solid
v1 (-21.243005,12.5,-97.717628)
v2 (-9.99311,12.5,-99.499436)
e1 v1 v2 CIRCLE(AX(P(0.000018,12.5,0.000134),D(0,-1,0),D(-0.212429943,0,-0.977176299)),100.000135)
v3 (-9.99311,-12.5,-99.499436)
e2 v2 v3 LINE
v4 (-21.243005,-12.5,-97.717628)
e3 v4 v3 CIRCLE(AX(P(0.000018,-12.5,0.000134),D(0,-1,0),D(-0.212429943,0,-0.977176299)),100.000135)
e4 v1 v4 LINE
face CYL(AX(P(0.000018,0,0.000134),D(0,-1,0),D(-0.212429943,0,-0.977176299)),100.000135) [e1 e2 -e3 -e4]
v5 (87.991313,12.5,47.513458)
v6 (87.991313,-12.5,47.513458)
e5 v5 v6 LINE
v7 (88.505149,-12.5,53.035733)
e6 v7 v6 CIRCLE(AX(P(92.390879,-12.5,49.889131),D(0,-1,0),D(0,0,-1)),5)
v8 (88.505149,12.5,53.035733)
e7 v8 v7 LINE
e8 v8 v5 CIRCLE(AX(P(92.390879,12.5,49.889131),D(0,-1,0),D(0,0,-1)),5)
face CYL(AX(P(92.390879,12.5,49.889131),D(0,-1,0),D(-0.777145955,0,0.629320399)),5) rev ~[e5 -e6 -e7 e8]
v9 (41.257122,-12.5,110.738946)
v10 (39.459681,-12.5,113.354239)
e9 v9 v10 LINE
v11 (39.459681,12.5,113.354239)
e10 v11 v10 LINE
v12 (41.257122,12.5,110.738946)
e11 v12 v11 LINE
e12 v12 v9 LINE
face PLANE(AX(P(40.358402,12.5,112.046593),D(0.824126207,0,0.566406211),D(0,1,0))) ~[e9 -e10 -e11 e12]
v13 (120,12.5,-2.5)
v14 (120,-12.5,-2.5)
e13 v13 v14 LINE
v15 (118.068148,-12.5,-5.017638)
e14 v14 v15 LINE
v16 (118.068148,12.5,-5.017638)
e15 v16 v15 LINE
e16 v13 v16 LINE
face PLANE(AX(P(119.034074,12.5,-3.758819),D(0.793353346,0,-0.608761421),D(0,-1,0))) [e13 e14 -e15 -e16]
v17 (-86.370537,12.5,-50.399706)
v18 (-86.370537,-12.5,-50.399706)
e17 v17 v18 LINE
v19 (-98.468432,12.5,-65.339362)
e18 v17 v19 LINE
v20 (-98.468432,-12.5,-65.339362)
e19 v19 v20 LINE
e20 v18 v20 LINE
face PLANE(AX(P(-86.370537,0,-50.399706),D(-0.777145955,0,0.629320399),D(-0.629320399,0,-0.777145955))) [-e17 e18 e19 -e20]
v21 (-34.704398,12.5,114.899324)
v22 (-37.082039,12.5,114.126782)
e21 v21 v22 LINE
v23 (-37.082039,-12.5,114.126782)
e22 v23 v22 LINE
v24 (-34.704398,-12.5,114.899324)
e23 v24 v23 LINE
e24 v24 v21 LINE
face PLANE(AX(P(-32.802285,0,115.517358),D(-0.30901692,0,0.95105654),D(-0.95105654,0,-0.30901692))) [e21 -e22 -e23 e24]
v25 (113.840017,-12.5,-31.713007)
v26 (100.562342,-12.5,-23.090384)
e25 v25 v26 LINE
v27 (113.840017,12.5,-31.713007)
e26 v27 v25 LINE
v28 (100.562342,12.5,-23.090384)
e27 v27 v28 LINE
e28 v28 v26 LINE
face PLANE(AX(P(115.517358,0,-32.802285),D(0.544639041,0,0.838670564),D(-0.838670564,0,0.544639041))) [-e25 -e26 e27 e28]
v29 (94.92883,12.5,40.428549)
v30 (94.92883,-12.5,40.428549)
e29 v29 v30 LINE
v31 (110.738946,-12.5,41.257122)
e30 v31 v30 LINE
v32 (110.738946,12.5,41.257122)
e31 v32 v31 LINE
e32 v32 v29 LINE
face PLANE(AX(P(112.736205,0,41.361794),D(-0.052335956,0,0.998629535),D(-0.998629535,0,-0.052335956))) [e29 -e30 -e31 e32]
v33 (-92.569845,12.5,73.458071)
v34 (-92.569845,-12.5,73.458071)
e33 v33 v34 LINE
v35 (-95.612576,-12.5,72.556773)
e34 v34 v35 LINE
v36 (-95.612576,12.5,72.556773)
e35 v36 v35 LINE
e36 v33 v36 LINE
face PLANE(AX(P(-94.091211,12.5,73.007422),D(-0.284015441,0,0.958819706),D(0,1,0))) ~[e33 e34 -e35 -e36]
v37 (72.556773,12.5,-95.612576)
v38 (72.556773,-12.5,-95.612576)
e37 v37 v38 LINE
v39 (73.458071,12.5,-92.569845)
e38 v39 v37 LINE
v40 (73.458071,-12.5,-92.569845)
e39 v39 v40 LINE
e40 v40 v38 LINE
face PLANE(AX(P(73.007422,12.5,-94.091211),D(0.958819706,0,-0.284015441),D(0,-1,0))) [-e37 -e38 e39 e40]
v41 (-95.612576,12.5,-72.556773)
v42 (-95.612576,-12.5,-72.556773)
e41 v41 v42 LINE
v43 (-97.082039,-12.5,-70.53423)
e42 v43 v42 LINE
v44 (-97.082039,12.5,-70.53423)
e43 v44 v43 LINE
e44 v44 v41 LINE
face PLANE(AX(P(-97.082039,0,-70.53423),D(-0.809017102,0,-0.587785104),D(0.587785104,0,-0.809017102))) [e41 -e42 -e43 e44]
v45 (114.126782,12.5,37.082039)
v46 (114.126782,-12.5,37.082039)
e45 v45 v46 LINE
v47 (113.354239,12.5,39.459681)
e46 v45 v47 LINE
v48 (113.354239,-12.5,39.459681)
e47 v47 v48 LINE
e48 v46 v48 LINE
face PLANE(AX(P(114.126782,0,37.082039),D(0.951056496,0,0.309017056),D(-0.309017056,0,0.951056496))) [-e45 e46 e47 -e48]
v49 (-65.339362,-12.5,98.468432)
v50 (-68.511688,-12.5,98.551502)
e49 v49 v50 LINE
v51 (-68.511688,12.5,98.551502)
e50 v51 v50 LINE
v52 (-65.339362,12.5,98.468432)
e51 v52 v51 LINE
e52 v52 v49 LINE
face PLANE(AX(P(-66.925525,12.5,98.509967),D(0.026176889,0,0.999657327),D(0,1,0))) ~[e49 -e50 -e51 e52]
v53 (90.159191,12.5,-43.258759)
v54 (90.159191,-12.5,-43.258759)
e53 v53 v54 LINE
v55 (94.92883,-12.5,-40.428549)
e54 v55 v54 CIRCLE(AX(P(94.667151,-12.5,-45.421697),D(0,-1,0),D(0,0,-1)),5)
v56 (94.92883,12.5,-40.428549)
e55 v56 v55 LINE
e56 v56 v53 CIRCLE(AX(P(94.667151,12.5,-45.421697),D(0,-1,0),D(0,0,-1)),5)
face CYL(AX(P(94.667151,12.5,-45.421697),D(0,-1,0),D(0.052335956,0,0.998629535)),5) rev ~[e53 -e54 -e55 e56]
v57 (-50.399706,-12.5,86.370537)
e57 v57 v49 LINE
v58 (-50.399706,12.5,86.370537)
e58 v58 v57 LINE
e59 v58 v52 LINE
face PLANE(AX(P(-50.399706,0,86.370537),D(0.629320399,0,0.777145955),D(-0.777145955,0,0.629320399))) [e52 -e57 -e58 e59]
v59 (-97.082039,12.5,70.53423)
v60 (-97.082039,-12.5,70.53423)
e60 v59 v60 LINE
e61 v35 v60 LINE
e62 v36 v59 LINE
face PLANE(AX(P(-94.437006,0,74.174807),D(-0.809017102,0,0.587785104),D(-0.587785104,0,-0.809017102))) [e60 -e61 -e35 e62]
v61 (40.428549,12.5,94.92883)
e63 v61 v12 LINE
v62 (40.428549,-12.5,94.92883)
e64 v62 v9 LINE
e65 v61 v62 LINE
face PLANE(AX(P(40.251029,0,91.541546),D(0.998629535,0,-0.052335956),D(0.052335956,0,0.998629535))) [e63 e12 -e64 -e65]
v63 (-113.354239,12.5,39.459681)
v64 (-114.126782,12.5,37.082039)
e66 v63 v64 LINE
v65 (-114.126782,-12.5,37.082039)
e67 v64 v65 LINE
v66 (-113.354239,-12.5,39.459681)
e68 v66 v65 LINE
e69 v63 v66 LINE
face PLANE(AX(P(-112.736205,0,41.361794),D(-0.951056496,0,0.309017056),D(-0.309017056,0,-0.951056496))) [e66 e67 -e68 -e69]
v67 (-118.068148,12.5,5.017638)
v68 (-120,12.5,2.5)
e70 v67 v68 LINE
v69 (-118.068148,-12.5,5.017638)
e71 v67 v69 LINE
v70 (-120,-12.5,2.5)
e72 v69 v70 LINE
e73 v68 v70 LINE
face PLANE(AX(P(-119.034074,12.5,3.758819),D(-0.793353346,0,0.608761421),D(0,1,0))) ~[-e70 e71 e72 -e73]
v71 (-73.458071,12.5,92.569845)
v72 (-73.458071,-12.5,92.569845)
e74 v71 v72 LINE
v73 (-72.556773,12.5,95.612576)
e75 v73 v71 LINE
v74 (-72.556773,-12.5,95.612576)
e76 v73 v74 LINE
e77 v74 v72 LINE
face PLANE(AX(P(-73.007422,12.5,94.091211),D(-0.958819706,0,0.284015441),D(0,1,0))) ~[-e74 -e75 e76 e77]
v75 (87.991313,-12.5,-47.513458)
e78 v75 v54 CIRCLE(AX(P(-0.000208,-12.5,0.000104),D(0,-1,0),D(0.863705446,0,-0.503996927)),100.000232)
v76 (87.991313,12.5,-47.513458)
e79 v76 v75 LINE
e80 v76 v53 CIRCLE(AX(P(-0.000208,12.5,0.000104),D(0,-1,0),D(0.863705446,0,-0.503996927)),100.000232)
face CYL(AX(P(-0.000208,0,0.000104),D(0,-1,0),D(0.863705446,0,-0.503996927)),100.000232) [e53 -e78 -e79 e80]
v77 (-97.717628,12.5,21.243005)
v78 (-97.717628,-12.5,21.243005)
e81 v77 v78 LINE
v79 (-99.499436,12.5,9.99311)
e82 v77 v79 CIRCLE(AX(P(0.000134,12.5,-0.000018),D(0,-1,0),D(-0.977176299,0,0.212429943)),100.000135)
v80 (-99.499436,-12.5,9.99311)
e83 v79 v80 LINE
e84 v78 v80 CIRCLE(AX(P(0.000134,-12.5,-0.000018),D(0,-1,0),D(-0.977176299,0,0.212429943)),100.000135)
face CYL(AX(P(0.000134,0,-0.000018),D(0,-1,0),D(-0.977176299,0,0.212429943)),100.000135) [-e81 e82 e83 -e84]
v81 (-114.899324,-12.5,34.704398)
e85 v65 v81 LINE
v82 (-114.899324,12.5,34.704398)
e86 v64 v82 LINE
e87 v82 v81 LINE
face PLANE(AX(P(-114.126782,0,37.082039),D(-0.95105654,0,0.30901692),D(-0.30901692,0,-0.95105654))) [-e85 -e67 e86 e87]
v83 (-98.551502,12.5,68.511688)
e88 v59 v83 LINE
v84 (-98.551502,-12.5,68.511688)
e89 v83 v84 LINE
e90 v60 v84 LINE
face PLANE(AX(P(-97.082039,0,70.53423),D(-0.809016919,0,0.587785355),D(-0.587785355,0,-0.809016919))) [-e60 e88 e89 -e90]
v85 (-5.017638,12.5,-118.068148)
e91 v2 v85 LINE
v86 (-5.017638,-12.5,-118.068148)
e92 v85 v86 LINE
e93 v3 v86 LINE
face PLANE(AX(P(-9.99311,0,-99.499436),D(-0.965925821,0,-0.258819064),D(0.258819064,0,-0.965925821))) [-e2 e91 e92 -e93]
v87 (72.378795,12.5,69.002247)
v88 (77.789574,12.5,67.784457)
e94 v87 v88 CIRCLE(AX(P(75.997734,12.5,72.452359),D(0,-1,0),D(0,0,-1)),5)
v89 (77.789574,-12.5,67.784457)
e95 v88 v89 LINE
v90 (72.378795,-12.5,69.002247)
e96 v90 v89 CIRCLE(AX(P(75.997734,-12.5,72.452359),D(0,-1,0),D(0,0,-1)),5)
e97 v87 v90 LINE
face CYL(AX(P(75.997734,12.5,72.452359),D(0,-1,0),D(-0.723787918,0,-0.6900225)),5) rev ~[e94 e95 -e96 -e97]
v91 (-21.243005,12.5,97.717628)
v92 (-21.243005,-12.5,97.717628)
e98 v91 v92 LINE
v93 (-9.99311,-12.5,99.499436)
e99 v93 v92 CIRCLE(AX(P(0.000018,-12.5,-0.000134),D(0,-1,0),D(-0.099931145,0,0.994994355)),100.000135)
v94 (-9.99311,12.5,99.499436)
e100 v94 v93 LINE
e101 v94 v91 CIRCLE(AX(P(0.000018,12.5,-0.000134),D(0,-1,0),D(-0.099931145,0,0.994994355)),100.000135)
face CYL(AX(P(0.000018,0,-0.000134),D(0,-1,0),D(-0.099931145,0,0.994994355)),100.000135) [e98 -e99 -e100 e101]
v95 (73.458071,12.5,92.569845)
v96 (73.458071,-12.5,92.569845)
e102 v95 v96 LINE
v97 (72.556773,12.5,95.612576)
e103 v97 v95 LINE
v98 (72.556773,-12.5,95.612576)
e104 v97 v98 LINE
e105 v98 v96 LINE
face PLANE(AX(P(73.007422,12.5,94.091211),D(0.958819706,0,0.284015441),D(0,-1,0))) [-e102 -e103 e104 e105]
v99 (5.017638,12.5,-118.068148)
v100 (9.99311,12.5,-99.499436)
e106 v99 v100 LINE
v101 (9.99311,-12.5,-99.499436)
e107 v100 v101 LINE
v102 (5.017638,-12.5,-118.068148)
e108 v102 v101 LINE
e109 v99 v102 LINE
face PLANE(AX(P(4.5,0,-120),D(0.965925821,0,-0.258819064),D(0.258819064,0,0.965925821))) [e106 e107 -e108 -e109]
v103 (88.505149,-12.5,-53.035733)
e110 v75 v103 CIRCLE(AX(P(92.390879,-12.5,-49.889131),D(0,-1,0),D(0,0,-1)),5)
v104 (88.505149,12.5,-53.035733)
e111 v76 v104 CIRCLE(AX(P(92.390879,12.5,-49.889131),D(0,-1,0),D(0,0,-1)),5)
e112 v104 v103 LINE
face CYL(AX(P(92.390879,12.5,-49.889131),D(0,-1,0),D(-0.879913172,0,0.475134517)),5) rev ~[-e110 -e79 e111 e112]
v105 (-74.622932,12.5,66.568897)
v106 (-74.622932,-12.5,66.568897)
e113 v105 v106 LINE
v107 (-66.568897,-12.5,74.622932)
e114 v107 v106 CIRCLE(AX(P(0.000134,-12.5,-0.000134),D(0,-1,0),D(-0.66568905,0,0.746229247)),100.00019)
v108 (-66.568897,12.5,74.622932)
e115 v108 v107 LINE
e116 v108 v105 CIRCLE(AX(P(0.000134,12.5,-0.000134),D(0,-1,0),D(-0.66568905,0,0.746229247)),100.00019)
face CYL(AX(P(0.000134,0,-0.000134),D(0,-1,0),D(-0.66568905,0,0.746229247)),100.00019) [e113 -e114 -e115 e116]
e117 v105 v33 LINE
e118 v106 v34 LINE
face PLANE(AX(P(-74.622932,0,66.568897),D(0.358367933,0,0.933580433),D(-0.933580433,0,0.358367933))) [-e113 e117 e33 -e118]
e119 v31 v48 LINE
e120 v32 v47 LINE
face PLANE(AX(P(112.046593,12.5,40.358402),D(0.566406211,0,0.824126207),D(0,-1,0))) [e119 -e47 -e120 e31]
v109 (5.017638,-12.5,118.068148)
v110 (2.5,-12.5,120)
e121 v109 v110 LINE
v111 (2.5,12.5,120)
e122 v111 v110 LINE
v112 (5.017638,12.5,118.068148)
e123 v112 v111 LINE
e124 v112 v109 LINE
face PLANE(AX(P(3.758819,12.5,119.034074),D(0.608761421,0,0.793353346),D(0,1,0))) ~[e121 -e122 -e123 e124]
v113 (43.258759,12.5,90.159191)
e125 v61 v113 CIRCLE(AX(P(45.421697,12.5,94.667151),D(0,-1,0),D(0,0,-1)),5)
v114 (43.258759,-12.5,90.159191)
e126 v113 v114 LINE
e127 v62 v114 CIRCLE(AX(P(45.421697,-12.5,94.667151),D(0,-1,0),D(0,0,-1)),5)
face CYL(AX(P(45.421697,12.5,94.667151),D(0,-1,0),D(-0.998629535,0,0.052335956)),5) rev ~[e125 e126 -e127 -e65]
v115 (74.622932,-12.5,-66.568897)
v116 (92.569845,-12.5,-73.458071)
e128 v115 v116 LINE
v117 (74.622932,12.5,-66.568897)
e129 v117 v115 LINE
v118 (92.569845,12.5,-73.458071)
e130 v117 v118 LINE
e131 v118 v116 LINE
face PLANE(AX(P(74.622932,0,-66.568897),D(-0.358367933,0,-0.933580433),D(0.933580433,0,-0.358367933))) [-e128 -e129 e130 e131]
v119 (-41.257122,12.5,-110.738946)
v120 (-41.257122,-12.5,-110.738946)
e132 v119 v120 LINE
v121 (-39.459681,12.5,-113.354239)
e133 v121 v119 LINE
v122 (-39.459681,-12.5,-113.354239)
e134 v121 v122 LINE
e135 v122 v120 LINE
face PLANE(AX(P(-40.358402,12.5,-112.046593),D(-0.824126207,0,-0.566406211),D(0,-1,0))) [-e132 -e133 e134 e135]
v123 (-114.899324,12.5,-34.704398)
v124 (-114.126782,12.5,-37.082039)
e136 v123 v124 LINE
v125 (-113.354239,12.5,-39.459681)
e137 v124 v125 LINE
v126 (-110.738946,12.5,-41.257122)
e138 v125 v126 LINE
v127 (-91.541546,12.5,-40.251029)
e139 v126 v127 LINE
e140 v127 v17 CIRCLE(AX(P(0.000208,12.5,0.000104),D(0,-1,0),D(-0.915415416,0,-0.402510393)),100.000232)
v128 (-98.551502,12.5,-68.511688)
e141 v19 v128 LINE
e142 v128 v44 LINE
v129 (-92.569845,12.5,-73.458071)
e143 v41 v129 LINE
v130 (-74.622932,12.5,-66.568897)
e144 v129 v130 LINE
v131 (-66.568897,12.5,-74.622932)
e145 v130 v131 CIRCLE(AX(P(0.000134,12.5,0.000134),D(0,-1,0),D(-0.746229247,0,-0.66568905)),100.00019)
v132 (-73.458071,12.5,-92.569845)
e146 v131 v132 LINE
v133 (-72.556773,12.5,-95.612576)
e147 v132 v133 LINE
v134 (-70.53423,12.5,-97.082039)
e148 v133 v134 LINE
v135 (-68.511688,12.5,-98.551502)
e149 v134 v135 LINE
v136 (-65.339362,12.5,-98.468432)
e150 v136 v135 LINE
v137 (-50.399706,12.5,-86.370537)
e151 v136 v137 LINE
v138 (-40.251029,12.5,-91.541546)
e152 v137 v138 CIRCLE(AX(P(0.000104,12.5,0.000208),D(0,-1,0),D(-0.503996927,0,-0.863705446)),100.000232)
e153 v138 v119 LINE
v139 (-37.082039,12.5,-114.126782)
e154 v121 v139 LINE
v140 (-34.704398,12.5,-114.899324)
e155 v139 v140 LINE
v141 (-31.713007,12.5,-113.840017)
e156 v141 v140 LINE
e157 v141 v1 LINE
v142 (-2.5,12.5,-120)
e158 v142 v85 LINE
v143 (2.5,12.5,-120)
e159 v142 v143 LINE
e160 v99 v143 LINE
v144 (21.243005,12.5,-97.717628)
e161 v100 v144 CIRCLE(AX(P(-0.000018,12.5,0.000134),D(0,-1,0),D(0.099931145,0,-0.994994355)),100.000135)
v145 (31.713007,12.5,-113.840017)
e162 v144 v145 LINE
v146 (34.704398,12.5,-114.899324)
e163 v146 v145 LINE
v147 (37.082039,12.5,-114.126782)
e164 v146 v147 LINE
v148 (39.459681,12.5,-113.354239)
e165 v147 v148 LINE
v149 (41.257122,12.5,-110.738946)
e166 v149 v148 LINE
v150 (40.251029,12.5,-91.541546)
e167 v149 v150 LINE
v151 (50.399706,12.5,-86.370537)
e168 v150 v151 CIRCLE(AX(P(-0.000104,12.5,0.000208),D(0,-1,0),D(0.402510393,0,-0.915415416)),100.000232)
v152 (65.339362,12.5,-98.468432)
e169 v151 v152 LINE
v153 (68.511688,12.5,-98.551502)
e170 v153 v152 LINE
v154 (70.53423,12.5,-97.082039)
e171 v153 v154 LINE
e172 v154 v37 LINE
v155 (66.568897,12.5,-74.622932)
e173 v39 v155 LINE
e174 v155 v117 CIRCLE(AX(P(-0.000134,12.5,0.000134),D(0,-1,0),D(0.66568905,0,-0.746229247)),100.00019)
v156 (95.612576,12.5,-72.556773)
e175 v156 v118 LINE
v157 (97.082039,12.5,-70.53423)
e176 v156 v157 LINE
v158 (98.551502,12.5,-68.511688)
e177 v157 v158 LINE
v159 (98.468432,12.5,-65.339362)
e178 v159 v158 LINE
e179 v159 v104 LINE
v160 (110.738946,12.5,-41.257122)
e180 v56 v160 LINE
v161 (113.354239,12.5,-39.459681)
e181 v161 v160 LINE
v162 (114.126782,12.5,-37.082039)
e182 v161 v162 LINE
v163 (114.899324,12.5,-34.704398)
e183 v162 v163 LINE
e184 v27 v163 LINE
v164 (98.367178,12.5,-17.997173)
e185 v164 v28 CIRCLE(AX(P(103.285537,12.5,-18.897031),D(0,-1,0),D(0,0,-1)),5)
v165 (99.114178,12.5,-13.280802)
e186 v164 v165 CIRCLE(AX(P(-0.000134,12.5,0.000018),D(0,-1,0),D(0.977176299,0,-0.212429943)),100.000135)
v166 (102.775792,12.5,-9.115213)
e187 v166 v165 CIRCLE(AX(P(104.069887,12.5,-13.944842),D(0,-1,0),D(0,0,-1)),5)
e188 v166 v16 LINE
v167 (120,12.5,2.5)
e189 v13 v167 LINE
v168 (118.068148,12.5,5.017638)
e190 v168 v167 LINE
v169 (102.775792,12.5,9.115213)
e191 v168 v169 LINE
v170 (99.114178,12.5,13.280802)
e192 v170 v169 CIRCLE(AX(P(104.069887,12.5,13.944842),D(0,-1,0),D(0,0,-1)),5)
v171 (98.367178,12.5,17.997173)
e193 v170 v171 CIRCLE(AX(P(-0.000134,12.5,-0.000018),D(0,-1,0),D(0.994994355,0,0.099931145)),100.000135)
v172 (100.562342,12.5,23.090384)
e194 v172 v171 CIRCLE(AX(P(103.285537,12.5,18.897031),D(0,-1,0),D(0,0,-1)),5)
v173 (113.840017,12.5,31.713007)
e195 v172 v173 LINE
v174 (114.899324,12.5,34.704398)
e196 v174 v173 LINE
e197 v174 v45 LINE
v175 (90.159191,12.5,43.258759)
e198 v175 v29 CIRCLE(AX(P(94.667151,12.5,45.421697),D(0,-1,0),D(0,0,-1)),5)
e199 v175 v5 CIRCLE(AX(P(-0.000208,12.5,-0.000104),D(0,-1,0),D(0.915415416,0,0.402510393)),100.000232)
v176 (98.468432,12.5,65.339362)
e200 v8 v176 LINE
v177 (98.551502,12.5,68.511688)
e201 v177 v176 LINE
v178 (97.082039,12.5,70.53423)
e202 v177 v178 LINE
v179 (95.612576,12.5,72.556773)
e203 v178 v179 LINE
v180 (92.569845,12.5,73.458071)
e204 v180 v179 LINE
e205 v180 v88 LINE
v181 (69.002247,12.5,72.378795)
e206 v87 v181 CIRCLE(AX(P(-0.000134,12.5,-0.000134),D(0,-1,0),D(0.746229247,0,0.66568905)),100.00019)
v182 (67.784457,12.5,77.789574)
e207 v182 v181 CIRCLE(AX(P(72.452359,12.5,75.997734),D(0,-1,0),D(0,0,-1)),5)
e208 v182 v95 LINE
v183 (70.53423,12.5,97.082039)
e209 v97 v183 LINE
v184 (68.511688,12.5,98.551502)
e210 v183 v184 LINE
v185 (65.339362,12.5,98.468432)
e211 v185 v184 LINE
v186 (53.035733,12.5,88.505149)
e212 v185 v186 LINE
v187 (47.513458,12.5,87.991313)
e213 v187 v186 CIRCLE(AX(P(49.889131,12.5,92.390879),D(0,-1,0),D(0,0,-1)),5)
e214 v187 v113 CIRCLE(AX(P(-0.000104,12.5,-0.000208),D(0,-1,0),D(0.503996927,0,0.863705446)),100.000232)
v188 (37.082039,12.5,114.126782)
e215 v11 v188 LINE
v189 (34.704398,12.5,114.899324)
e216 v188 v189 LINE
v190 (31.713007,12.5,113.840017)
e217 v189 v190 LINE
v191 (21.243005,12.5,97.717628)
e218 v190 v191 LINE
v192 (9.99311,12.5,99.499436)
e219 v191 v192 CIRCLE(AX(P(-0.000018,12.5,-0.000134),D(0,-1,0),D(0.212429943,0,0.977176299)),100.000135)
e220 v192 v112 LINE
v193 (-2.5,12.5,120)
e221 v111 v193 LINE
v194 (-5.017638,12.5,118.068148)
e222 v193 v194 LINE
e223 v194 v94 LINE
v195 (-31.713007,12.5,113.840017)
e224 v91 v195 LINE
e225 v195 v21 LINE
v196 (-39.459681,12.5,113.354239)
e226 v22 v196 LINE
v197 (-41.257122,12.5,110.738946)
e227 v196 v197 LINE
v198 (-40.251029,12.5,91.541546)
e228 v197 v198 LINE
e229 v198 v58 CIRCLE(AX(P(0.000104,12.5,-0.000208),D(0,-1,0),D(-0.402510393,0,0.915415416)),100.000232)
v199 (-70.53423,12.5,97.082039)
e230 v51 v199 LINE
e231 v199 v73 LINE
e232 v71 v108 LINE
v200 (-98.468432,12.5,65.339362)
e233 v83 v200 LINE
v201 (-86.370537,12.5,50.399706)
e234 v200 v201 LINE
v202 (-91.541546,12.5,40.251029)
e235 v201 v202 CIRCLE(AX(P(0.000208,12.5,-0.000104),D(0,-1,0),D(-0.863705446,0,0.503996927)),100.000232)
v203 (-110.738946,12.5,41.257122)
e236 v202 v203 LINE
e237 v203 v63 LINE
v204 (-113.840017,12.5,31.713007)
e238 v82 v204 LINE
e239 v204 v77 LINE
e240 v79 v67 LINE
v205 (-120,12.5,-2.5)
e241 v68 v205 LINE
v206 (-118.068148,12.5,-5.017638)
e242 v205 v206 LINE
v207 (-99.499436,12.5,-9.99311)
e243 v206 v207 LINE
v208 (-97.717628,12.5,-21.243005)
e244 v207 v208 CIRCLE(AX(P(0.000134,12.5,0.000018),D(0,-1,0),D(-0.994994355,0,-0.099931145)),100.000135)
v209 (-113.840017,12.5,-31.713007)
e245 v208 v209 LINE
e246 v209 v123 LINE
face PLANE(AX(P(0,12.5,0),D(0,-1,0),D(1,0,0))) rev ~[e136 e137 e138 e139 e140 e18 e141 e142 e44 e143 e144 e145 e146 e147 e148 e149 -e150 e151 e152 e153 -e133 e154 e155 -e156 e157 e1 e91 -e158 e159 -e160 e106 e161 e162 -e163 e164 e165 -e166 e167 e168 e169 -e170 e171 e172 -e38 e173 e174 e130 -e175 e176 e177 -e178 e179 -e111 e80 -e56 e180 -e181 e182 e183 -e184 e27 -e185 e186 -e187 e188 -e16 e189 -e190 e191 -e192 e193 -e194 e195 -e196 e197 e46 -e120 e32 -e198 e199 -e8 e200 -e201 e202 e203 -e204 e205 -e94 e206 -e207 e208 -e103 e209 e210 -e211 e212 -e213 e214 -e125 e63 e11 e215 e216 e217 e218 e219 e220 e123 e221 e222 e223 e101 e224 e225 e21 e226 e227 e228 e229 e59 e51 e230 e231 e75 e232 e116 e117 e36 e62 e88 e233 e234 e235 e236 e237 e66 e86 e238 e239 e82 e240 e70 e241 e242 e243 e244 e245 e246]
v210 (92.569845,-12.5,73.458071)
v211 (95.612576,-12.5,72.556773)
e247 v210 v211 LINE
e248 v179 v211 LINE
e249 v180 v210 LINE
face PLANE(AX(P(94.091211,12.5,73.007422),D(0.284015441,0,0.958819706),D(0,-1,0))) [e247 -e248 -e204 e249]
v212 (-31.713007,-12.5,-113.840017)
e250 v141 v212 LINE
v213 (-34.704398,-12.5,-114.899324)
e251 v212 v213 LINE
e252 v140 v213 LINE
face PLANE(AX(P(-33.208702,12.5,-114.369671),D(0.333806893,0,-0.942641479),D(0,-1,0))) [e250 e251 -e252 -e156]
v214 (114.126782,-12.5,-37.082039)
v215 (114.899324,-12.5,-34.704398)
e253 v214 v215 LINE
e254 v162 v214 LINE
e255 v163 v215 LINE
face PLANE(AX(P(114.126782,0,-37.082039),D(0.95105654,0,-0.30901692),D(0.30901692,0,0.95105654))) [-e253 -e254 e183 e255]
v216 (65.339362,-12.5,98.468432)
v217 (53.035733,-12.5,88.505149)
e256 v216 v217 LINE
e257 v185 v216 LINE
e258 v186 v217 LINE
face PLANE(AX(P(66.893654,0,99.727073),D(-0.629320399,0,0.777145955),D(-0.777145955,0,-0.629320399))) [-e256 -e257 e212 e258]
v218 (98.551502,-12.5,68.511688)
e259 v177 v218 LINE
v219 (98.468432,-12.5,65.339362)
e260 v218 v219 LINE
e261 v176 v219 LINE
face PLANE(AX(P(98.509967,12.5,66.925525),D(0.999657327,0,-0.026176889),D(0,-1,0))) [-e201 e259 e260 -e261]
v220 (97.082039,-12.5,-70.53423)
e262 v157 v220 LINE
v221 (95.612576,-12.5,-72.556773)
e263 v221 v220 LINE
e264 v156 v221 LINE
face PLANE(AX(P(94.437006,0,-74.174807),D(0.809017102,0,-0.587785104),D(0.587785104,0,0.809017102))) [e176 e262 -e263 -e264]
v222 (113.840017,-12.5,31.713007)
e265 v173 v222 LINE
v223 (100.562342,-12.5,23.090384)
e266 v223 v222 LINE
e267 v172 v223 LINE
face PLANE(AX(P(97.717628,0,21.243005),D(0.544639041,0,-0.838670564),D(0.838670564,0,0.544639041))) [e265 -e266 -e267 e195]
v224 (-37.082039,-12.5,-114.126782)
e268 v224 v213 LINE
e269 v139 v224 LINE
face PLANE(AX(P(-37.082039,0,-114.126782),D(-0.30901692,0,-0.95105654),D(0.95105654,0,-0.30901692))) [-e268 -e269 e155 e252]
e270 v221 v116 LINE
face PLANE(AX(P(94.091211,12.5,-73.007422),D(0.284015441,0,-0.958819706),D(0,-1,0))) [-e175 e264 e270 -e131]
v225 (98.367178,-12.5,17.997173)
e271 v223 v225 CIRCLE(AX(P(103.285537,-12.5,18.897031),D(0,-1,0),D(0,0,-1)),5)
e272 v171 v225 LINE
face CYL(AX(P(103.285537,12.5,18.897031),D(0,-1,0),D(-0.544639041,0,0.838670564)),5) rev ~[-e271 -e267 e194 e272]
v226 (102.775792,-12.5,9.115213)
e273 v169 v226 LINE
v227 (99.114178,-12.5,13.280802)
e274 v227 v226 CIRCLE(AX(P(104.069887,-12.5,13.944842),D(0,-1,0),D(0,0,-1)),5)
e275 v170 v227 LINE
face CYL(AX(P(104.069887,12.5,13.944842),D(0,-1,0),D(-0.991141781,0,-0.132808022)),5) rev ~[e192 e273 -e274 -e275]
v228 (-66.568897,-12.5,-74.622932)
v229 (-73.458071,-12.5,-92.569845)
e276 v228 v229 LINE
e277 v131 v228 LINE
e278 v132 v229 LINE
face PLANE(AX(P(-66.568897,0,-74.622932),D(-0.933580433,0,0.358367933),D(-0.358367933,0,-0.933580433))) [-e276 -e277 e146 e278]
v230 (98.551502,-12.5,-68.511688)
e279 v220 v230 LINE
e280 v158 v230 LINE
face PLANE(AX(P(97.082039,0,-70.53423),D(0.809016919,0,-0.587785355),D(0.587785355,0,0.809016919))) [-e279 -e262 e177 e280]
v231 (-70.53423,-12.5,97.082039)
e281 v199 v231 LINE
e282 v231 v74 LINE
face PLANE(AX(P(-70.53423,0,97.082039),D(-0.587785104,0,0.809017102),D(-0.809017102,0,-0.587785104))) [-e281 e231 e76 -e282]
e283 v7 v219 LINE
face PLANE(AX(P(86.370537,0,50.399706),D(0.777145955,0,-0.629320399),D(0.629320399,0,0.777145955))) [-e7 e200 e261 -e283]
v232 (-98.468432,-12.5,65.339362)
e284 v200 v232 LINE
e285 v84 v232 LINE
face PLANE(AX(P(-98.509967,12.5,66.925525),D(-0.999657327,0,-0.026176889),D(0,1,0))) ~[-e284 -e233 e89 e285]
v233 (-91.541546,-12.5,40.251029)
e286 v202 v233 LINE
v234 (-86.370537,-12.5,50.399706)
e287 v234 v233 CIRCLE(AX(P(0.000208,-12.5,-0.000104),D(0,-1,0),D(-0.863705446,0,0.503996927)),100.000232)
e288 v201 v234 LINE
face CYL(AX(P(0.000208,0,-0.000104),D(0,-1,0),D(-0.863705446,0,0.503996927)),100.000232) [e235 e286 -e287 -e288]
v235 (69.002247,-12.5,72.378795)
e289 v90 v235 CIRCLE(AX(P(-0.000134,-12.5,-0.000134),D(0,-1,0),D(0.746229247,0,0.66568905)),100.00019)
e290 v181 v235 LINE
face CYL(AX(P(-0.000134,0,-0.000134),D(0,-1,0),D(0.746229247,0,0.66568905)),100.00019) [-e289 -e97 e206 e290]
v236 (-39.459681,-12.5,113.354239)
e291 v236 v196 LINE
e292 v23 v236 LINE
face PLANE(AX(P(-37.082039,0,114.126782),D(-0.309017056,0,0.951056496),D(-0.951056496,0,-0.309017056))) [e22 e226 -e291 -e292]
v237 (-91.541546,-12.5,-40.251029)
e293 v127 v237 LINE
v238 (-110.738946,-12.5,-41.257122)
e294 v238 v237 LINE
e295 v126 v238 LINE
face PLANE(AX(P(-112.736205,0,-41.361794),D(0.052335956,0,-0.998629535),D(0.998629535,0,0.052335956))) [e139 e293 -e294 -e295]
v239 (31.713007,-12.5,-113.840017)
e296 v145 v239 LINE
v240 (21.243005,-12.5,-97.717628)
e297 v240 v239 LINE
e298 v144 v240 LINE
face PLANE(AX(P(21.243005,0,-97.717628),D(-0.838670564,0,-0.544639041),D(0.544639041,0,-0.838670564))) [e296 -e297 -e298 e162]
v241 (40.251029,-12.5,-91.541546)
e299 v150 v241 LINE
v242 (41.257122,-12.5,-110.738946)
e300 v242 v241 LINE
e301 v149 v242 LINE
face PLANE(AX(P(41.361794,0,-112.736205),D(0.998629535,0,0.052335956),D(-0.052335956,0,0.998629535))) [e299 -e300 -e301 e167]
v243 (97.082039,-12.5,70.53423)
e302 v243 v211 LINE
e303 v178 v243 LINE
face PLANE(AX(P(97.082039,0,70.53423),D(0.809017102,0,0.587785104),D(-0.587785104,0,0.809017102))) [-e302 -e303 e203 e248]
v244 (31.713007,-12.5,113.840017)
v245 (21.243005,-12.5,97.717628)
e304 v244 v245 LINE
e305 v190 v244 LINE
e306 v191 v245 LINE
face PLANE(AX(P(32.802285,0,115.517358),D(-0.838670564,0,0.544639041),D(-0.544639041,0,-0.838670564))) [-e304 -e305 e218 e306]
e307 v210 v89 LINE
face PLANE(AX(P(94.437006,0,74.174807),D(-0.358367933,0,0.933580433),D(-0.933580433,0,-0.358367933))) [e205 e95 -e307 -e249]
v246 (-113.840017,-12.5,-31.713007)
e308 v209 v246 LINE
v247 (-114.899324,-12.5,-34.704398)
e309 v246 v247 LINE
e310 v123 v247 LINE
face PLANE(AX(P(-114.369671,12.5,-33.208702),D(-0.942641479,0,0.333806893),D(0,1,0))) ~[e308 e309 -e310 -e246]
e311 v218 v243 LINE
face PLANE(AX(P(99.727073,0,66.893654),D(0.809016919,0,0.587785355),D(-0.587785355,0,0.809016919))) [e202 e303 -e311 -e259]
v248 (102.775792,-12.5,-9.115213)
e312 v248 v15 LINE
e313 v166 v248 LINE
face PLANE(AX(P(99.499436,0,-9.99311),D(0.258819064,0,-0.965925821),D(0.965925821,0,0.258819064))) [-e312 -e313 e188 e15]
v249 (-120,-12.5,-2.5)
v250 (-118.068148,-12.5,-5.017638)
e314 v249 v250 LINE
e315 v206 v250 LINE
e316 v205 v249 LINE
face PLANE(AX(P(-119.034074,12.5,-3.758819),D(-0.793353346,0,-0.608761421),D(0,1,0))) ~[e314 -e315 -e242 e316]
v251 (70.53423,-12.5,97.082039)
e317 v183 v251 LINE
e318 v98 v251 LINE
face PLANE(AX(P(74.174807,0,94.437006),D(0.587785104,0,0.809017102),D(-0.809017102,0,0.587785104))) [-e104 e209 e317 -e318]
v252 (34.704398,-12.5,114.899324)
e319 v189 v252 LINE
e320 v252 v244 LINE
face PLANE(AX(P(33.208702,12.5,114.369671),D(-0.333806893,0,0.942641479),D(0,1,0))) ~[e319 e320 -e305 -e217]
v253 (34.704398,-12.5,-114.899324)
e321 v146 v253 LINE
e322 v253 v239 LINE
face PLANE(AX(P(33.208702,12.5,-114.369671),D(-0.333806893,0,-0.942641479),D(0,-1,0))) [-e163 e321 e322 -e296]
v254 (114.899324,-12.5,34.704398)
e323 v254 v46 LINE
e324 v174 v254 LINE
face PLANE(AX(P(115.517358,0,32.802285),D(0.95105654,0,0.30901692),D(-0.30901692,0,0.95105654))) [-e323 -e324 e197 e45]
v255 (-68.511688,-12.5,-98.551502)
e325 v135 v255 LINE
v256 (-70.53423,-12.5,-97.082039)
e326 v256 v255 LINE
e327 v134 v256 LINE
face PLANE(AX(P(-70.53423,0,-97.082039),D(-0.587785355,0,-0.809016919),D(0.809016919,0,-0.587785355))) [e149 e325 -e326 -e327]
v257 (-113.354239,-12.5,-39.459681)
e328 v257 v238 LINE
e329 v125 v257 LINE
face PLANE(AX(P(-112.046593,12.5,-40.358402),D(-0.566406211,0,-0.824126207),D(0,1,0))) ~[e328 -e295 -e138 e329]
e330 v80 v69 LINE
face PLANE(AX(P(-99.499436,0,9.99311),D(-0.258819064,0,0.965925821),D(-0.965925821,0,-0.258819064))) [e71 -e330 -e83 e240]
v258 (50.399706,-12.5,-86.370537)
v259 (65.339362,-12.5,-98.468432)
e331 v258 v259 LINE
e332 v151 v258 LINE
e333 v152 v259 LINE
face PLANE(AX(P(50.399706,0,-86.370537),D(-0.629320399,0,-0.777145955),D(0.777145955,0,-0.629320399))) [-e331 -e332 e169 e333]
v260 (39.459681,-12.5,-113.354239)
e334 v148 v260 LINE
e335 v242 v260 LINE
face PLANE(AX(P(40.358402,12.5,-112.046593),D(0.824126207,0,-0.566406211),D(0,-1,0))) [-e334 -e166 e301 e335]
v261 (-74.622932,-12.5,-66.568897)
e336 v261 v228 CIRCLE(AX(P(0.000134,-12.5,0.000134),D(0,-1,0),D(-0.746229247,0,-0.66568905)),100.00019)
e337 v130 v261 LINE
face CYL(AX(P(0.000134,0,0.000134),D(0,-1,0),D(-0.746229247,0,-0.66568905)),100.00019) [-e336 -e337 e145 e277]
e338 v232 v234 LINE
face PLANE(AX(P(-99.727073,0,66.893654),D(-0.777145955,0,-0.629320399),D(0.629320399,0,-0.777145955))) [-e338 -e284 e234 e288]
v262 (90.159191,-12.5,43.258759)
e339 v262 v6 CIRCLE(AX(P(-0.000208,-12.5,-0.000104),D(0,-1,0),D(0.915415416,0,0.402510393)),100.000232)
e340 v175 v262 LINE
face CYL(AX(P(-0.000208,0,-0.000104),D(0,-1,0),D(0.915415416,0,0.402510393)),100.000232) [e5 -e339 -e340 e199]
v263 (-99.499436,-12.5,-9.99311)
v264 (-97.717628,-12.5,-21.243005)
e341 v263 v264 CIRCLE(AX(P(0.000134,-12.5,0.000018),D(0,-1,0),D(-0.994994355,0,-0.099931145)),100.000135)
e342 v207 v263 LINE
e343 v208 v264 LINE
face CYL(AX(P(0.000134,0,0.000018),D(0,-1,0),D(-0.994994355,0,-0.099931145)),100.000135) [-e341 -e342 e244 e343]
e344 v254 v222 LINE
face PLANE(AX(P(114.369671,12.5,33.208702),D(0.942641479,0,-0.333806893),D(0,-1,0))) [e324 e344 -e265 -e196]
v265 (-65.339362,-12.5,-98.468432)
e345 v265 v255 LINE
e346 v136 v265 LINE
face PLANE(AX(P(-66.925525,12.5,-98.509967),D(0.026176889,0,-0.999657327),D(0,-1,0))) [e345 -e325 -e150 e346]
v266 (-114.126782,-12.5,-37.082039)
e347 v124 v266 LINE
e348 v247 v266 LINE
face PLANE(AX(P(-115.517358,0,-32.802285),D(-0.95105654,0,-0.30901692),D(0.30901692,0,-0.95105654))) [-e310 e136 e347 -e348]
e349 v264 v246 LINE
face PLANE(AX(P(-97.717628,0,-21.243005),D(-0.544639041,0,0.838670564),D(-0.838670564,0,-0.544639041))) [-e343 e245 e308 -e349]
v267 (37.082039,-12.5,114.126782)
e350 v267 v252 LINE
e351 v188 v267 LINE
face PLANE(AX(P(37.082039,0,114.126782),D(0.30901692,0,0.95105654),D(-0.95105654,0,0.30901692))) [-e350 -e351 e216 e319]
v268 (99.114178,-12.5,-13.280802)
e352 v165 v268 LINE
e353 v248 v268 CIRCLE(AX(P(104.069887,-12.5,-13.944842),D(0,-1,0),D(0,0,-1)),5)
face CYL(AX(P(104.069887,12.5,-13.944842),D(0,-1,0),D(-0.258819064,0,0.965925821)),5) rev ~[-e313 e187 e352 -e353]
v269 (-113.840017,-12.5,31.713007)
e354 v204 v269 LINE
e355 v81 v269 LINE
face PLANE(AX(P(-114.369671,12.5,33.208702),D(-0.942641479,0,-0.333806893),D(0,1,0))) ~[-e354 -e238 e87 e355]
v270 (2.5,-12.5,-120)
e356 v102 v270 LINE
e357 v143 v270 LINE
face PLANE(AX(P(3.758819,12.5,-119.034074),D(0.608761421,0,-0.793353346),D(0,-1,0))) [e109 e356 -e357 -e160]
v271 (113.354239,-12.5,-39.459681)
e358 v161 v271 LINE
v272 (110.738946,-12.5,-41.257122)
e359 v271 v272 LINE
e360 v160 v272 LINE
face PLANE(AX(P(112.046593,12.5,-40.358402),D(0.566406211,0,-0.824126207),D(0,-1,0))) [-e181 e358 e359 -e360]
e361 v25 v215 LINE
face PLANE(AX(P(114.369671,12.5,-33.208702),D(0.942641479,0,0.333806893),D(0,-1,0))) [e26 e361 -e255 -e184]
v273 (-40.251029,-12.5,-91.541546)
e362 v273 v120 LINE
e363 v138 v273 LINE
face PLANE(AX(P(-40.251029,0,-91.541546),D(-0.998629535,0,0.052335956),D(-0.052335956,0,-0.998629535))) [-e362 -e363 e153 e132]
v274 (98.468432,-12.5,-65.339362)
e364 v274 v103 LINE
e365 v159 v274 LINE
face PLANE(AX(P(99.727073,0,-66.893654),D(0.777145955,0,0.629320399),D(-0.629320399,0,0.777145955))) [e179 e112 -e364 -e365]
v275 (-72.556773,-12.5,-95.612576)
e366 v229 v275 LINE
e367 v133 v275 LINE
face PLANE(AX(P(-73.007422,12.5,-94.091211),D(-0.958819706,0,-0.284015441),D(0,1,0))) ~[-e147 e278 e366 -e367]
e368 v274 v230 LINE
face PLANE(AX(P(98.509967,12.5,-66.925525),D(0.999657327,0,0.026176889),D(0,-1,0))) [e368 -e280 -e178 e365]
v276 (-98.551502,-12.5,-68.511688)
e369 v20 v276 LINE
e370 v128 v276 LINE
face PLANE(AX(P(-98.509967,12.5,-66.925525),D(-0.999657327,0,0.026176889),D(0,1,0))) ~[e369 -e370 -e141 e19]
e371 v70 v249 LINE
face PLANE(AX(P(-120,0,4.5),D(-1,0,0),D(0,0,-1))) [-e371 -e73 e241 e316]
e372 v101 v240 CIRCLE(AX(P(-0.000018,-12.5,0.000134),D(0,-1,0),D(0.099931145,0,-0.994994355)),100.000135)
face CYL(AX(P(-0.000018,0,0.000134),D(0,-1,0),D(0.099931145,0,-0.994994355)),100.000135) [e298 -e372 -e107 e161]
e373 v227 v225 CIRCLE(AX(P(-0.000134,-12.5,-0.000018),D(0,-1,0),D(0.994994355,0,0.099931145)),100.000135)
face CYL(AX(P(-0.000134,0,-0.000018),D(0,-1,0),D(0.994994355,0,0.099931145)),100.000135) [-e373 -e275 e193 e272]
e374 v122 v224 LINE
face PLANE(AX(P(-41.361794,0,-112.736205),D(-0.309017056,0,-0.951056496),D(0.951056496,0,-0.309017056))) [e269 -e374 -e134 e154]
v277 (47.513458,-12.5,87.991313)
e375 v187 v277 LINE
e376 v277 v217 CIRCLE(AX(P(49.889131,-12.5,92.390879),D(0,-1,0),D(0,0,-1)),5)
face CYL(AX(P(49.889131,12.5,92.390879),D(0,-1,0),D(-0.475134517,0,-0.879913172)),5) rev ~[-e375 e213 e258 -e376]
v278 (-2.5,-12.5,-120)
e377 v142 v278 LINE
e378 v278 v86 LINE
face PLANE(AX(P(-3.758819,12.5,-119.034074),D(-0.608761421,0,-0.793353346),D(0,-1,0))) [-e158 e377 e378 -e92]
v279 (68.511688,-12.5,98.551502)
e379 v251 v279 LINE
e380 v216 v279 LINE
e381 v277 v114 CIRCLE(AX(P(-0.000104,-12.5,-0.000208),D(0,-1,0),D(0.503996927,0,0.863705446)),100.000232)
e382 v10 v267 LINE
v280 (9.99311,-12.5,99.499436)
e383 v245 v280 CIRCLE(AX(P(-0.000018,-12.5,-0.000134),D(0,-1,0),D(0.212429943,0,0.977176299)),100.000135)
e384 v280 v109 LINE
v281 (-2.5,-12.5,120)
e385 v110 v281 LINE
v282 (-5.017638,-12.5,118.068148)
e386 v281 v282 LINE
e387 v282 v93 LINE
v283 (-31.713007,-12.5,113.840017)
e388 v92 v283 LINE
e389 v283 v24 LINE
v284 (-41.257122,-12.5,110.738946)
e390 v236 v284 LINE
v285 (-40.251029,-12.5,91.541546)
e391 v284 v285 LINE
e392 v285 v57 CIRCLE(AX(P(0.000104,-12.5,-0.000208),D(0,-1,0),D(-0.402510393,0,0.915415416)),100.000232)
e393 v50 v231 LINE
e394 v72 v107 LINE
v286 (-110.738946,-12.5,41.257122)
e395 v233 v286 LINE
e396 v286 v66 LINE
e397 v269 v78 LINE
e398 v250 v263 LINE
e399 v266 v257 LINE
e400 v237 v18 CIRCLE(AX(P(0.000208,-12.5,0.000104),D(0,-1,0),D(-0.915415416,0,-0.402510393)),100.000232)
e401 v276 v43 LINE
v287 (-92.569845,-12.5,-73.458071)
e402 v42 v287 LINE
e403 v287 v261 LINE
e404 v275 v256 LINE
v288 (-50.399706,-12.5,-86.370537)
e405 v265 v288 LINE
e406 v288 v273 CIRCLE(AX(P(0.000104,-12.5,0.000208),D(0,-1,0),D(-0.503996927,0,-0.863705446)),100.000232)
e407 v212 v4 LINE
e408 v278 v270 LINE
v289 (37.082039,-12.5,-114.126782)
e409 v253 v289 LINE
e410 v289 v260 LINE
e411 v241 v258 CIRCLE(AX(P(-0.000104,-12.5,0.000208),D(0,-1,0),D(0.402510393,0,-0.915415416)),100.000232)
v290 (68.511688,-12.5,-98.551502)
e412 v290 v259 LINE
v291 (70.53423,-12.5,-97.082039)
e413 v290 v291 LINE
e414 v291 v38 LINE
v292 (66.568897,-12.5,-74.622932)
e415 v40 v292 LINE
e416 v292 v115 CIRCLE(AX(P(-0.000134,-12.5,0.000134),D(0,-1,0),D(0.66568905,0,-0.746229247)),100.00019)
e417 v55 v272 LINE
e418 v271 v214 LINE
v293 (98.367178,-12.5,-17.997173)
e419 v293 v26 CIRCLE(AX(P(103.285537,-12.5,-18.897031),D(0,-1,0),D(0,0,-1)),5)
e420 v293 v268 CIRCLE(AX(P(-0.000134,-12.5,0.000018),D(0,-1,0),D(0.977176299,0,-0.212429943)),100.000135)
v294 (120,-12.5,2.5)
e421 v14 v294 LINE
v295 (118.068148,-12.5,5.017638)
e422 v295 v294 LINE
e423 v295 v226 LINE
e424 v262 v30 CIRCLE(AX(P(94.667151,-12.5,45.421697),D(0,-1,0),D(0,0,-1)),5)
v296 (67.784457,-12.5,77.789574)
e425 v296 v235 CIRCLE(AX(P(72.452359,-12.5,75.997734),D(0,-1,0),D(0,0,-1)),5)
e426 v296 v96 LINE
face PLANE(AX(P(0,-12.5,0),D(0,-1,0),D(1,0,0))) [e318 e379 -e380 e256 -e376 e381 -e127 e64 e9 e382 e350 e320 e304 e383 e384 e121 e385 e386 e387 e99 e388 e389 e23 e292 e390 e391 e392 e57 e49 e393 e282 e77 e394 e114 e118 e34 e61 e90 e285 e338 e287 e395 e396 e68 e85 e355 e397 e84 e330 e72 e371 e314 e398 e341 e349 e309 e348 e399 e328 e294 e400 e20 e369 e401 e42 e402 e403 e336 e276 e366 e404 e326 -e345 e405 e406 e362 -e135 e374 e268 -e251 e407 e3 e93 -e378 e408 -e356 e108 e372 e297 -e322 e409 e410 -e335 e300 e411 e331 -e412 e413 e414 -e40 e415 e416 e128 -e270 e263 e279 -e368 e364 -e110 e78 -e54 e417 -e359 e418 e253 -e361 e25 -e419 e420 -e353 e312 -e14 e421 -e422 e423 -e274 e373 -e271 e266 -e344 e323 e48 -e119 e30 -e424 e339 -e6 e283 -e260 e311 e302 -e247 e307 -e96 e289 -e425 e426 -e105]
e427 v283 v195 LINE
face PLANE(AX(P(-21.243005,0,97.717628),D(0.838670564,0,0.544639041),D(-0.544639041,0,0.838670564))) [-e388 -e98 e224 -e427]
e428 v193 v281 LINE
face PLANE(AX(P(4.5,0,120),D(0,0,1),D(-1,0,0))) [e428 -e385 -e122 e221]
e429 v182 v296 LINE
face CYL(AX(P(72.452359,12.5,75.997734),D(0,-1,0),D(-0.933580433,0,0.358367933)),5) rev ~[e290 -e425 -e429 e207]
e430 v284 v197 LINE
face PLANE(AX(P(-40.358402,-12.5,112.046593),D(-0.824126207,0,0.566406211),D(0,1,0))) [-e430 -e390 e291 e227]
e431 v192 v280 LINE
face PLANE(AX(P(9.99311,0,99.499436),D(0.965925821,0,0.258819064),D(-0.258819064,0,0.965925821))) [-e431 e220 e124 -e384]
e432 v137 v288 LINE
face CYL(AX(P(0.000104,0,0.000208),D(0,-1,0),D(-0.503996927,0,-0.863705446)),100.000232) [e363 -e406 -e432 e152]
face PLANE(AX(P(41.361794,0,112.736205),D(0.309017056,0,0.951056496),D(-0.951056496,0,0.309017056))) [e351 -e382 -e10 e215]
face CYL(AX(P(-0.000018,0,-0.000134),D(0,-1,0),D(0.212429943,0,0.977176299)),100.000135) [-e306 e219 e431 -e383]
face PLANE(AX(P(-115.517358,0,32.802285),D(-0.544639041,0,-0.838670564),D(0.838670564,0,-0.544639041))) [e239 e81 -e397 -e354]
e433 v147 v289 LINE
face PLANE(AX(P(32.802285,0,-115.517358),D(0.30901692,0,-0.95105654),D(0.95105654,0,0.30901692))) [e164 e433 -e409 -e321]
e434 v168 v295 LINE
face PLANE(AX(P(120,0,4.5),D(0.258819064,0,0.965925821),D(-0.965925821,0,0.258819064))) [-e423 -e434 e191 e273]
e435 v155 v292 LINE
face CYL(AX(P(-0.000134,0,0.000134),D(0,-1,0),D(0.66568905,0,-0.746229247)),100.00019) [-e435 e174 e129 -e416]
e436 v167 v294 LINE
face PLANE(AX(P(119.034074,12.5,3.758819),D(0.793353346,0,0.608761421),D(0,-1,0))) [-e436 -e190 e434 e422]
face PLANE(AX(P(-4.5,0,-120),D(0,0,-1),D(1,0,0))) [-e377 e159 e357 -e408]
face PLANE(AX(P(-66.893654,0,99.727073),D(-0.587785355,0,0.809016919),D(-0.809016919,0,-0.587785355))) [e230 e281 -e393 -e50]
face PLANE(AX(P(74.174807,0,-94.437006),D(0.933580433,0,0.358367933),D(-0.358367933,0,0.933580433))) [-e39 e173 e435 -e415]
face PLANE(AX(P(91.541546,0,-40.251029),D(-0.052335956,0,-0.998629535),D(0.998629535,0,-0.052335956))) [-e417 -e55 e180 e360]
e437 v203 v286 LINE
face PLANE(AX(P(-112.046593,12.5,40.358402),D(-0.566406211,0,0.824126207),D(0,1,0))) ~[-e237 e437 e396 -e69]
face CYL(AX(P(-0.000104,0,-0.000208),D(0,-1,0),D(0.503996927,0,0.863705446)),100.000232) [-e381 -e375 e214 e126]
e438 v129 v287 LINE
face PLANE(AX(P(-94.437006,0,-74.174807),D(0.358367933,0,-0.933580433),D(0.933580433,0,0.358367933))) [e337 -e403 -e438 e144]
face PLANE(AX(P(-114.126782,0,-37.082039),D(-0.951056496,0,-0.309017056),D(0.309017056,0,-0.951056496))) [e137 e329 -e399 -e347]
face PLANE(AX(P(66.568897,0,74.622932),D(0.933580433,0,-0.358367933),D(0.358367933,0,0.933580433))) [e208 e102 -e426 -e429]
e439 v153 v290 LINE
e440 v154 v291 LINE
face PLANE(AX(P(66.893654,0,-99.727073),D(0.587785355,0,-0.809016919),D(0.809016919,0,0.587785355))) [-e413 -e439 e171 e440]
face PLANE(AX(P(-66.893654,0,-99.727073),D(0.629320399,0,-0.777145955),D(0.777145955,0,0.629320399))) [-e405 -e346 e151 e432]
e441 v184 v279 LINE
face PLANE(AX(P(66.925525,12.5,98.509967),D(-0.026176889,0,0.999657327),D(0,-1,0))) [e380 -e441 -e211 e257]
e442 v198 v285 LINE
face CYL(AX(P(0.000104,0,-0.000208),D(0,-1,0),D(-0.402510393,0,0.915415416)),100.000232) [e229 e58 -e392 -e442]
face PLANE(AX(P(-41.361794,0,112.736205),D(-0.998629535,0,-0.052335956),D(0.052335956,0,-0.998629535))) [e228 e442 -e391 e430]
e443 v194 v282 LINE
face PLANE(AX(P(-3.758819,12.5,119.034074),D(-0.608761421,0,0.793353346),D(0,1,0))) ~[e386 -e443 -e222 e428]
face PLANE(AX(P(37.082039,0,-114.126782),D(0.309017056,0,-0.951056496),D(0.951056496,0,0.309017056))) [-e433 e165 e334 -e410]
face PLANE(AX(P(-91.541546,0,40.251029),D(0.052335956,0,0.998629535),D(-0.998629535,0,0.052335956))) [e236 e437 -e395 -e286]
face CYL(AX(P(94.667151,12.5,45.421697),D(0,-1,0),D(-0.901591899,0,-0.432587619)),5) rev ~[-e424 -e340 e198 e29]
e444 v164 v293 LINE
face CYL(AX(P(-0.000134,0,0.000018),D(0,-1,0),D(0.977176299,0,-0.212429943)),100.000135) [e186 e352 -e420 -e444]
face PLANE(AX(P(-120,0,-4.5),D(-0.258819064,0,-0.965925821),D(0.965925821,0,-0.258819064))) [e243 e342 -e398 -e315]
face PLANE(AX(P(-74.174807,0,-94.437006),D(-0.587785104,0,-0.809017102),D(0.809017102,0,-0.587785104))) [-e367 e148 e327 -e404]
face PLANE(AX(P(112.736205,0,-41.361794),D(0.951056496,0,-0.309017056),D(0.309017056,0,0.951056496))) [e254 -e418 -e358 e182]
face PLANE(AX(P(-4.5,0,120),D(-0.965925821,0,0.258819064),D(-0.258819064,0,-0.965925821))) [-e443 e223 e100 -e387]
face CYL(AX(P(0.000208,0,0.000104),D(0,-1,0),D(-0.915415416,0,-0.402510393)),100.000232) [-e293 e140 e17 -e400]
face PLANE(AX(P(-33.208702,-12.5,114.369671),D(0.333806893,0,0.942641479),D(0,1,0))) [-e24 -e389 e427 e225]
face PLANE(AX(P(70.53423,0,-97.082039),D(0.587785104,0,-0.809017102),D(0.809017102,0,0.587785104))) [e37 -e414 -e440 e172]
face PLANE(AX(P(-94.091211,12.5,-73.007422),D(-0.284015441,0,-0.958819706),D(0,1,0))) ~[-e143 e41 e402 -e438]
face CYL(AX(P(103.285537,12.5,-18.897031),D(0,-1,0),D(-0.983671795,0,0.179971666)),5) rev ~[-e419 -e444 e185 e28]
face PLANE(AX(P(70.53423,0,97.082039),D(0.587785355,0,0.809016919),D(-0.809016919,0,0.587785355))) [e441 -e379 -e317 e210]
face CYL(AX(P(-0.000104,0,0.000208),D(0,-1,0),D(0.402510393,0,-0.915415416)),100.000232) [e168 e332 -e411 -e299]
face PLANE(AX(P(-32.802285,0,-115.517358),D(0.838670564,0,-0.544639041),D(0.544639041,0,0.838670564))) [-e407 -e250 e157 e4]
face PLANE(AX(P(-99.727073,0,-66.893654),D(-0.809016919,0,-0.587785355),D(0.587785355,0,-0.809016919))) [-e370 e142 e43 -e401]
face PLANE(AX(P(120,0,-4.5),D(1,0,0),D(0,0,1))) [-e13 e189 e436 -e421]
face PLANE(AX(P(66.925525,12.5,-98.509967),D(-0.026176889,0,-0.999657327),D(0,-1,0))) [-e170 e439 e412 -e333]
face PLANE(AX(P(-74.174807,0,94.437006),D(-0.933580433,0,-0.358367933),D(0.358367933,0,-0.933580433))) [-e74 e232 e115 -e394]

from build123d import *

# Parameters (mm, degrees)
F1_DEPTH = 12.5
F2_R     = 5
F3_SIZE  = 2
F4_R     = 5


with BuildPart() as f1:
    # F0 (on Front) → F1 (new body, symmetric)
    with BuildSketch(Plane.XZ):
        with BuildLine():
            Line((-41.361794, 112.736205), (-40.251029, 91.541546))
            ThreePointArc((-40.251029, 91.541546), (-45.39905, 89.100652), (-50.399706, 86.370537))
            Line((-50.399706, 86.370537), (-66.893654, 99.727073))
            Line((-66.893654, 99.727073), (-70.53423, 97.082039))
            Line((-70.53423, 97.082039), (-74.174807, 94.437006))
            Line((-74.174807, 94.437006), (-66.568897, 74.622932))
            ThreePointArc((-66.568897, 74.622932), (-70.710678, 70.710678), (-74.622932, 66.568897))
            Line((-74.622932, 66.568897), (-94.437006, 74.174807))
            Line((-94.437006, 74.174807), (-97.082039, 70.53423))
            Line((-97.082039, 70.53423), (-99.727073, 66.893654))
            Line((-99.727073, 66.893654), (-86.370537, 50.399706))
            ThreePointArc((-86.370537, 50.399706), (-89.100652, 45.39905), (-91.541546, 40.251029))
            Line((-91.541546, 40.251029), (-112.736205, 41.361794))
            Line((-112.736205, 41.361794), (-114.126782, 37.082039))
            Line((-114.126782, 37.082039), (-115.517358, 32.802285))
            Line((-115.517358, 32.802285), (-97.717628, 21.243005))
            ThreePointArc((-97.717628, 21.243005), (-98.768834, 15.643447), (-99.499436, 9.99311))
            Line((-99.499436, 9.99311), (-120, 4.5))
            Line((-120, 4.5), (-120, 0))
            Line((-120, 0), (-120, -4.5))
            Line((-120, -4.5), (-99.499436, -9.99311))
            ThreePointArc((-99.499436, -9.99311), (-98.768834, -15.643447), (-97.717628, -21.243005))
            Line((-97.717628, -21.243005), (-115.517358, -32.802285))
            Line((-115.517358, -32.802285), (-114.126782, -37.082039))
            Line((-114.126782, -37.082039), (-112.736205, -41.361794))
            Line((-112.736205, -41.361794), (-91.541546, -40.251029))
            ThreePointArc((-91.541546, -40.251029), (-89.100652, -45.39905), (-86.370537, -50.399706))
            Line((-86.370537, -50.399706), (-99.727073, -66.893654))
            Line((-99.727073, -66.893654), (-97.082039, -70.53423))
            Line((-97.082039, -70.53423), (-94.437006, -74.174807))
            Line((-94.437006, -74.174807), (-74.622932, -66.568897))
            ThreePointArc((-74.622932, -66.568897), (-70.710678, -70.710678), (-66.568897, -74.622932))
            Line((-66.568897, -74.622932), (-74.174807, -94.437006))
            Line((-74.174807, -94.437006), (-70.53423, -97.082039))
            Line((-70.53423, -97.082039), (-66.893654, -99.727073))
            Line((-66.893654, -99.727073), (-50.399706, -86.370537))
            ThreePointArc((-50.399706, -86.370537), (-45.39905, -89.100652), (-40.251029, -91.541546))
            Line((-40.251029, -91.541546), (-41.361794, -112.736205))
            Line((-41.361794, -112.736205), (-37.082039, -114.126782))
            Line((-37.082039, -114.126782), (-32.802285, -115.517358))
            Line((-32.802285, -115.517358), (-21.243005, -97.717628))
            ThreePointArc((-21.243005, -97.717628), (-15.643447, -98.768834), (-9.99311, -99.499436))
            Line((-9.99311, -99.499436), (-4.5, -120))
            Line((-4.5, -120), (0, -120))
            Line((0, -120), (4.5, -120))
            Line((4.5, -120), (9.99311, -99.499436))
            ThreePointArc((9.99311, -99.499436), (15.643447, -98.768834), (21.243005, -97.717628))
            Line((21.243005, -97.717628), (32.802285, -115.517358))
            Line((32.802285, -115.517358), (37.082039, -114.126782))
            Line((37.082039, -114.126782), (41.361794, -112.736205))
            Line((41.361794, -112.736205), (40.251029, -91.541546))
            ThreePointArc((40.251029, -91.541546), (45.39905, -89.100652), (50.399706, -86.370537))
            Line((50.399706, -86.370537), (66.893654, -99.727073))
            Line((66.893654, -99.727073), (70.53423, -97.082039))
            Line((70.53423, -97.082039), (74.174807, -94.437006))
            Line((74.174807, -94.437006), (66.568897, -74.622932))
            ThreePointArc((66.568897, -74.622932), (70.710678, -70.710678), (74.622932, -66.568897))
            Line((74.622932, -66.568897), (94.437006, -74.174807))
            Line((94.437006, -74.174807), (97.082039, -70.53423))
            Line((97.082039, -70.53423), (99.727073, -66.893654))
            Line((99.727073, -66.893654), (86.370537, -50.399706))
            ThreePointArc((86.370537, -50.399706), (89.100652, -45.39905), (91.541546, -40.251029))
            Line((91.541546, -40.251029), (112.736205, -41.361794))
            Line((112.736205, -41.361794), (114.126782, -37.082039))
            Line((114.126782, -37.082039), (115.517358, -32.802285))
            Line((115.517358, -32.802285), (97.717628, -21.243005))
            ThreePointArc((97.717628, -21.243005), (98.768834, -15.643447), (99.499436, -9.99311))
            Line((99.499436, -9.99311), (120, -4.5))
            Line((120, -4.5), (120, 0))
            Line((120, 0), (120, 4.5))
            Line((120, 4.5), (99.499436, 9.99311))
            ThreePointArc((99.499436, 9.99311), (98.768834, 15.643447), (97.717628, 21.243005))
            Line((97.717628, 21.243005), (115.517358, 32.802285))
            Line((115.517358, 32.802285), (114.126782, 37.082039))
            Line((114.126782, 37.082039), (112.736205, 41.361794))
            Line((112.736205, 41.361794), (91.541546, 40.251029))
            ThreePointArc((91.541546, 40.251029), (89.100652, 45.39905), (86.370537, 50.399706))
            Line((86.370537, 50.399706), (99.727073, 66.893654))
            Line((99.727073, 66.893654), (97.082039, 70.53423))
            Line((97.082039, 70.53423), (94.437006, 74.174807))
            Line((94.437006, 74.174807), (74.622932, 66.568897))
            ThreePointArc((74.622932, 66.568897), (70.710678, 70.710678), (66.568897, 74.622932))
            Line((66.568897, 74.622932), (74.174807, 94.437006))
            Line((74.174807, 94.437006), (70.53423, 97.082039))
            Line((70.53423, 97.082039), (66.893654, 99.727073))
            Line((66.893654, 99.727073), (50.399706, 86.370537))
            ThreePointArc((50.399706, 86.370537), (45.39905, 89.100652), (40.251029, 91.541546))
            Line((40.251029, 91.541546), (41.361794, 112.736205))
            Line((41.361794, 112.736205), (37.082039, 114.126782))
            Line((37.082039, 114.126782), (32.802285, 115.517358))
            Line((32.802285, 115.517358), (21.243005, 97.717628))
            ThreePointArc((21.243005, 97.717628), (15.643447, 98.768834), (9.99311, 99.499436))
            Line((9.99311, 99.499436), (4.5, 120))
            Line((4.5, 120), (0, 120))
            Line((0, 120), (-4.5, 120))
            Line((-4.5, 120), (-9.99311, 99.499436))
            ThreePointArc((-9.99311, 99.499436), (-15.643447, 98.768834), (-21.243005, 97.717628))
            Line((-21.243005, 97.717628), (-32.802285, 115.517358))
            Line((-32.802285, 115.517358), (-37.082039, 114.126782))
            Line((-37.082039, 114.126782), (-41.361794, 112.736205))
        make_face()
    extrude(amount=F1_DEPTH, both=True)

    # F2
    f2_edges = [f1.edges().sort_by_distance(p)[0] for p in [
        (40.251029, 0, 91.541546),
        (50.399706, 0, 86.370537),
    ]]
    fillet(f2_edges, radius=F2_R)

    # F3
    f3_edges = [f1.edges().sort_by_distance(p)[0] for p in [
        (-66.893654, 0, 99.727073),
        (-74.174807, 0, 94.437006),
        (-32.802285, 0, 115.517358),
        (-41.361794, 0, 112.736205),
        (4.5, 0, 120),
        (-4.5, 0, 120),
        (41.361794, 0, 112.736205),
        (32.802285, 0, 115.517358),
        (74.174807, 0, 94.437006),
        (66.893654, 0, 99.727073),
        (99.727073, 0, 66.893654),
        (94.437006, 0, 74.174807),
        (115.517358, 0, 32.802285),
        (112.736205, 0, 41.361794),
        (120, 0, -4.5),
        (120, 0, 4.5),
        (112.736205, 0, -41.361794),
        (115.517358, 0, -32.802285),
        (94.437006, 0, -74.174807),
        (99.727073, 0, -66.893654),
        (66.893654, 0, -99.727073),
        (74.174807, 0, -94.437006),
        (32.802285, 0, -115.517358),
        (41.361794, 0, -112.736205),
        (-4.5, 0, -120),
        (4.5, 0, -120),
        (-41.361794, 0, -112.736205),
        (-32.802285, 0, -115.517358),
        (-74.174807, 0, -94.437006),
        (-66.893654, 0, -99.727073),
        (-99.727073, 0, -66.893654),
        (-94.437006, 0, -74.174807),
        (-112.736205, 0, -41.361794),
        (-115.517358, 0, -32.802285),
        (-120, 0, -4.5),
        (-120, 0, 4.5),
        (-115.517358, 0, 32.802285),
        (-112.736205, 0, 41.361794),
        (-99.727073, 0, 66.893654),
        (-94.437006, 0, 74.174807),
    ]]
    chamfer(f3_edges, length=F3_SIZE)

    # F4
    f4_edges = [f1.edges().sort_by_distance(p)[0] for p in [
        (74.622932, 0, 66.568897),
        (66.568897, 0, 74.622932),
        (91.541546, 0, 40.251029),
        (86.370537, 0, 50.399706),
        (97.717628, 0, 21.243005),
        (99.499436, 0, 9.99311),
        (99.499436, 0, -9.99311),
        (97.717628, 0, -21.243005),
        (91.541546, 0, -40.251029),
        (86.370537, 0, -50.399706),
    ]]
    fillet(f4_edges, radius=F4_R)


solid = f1.part
